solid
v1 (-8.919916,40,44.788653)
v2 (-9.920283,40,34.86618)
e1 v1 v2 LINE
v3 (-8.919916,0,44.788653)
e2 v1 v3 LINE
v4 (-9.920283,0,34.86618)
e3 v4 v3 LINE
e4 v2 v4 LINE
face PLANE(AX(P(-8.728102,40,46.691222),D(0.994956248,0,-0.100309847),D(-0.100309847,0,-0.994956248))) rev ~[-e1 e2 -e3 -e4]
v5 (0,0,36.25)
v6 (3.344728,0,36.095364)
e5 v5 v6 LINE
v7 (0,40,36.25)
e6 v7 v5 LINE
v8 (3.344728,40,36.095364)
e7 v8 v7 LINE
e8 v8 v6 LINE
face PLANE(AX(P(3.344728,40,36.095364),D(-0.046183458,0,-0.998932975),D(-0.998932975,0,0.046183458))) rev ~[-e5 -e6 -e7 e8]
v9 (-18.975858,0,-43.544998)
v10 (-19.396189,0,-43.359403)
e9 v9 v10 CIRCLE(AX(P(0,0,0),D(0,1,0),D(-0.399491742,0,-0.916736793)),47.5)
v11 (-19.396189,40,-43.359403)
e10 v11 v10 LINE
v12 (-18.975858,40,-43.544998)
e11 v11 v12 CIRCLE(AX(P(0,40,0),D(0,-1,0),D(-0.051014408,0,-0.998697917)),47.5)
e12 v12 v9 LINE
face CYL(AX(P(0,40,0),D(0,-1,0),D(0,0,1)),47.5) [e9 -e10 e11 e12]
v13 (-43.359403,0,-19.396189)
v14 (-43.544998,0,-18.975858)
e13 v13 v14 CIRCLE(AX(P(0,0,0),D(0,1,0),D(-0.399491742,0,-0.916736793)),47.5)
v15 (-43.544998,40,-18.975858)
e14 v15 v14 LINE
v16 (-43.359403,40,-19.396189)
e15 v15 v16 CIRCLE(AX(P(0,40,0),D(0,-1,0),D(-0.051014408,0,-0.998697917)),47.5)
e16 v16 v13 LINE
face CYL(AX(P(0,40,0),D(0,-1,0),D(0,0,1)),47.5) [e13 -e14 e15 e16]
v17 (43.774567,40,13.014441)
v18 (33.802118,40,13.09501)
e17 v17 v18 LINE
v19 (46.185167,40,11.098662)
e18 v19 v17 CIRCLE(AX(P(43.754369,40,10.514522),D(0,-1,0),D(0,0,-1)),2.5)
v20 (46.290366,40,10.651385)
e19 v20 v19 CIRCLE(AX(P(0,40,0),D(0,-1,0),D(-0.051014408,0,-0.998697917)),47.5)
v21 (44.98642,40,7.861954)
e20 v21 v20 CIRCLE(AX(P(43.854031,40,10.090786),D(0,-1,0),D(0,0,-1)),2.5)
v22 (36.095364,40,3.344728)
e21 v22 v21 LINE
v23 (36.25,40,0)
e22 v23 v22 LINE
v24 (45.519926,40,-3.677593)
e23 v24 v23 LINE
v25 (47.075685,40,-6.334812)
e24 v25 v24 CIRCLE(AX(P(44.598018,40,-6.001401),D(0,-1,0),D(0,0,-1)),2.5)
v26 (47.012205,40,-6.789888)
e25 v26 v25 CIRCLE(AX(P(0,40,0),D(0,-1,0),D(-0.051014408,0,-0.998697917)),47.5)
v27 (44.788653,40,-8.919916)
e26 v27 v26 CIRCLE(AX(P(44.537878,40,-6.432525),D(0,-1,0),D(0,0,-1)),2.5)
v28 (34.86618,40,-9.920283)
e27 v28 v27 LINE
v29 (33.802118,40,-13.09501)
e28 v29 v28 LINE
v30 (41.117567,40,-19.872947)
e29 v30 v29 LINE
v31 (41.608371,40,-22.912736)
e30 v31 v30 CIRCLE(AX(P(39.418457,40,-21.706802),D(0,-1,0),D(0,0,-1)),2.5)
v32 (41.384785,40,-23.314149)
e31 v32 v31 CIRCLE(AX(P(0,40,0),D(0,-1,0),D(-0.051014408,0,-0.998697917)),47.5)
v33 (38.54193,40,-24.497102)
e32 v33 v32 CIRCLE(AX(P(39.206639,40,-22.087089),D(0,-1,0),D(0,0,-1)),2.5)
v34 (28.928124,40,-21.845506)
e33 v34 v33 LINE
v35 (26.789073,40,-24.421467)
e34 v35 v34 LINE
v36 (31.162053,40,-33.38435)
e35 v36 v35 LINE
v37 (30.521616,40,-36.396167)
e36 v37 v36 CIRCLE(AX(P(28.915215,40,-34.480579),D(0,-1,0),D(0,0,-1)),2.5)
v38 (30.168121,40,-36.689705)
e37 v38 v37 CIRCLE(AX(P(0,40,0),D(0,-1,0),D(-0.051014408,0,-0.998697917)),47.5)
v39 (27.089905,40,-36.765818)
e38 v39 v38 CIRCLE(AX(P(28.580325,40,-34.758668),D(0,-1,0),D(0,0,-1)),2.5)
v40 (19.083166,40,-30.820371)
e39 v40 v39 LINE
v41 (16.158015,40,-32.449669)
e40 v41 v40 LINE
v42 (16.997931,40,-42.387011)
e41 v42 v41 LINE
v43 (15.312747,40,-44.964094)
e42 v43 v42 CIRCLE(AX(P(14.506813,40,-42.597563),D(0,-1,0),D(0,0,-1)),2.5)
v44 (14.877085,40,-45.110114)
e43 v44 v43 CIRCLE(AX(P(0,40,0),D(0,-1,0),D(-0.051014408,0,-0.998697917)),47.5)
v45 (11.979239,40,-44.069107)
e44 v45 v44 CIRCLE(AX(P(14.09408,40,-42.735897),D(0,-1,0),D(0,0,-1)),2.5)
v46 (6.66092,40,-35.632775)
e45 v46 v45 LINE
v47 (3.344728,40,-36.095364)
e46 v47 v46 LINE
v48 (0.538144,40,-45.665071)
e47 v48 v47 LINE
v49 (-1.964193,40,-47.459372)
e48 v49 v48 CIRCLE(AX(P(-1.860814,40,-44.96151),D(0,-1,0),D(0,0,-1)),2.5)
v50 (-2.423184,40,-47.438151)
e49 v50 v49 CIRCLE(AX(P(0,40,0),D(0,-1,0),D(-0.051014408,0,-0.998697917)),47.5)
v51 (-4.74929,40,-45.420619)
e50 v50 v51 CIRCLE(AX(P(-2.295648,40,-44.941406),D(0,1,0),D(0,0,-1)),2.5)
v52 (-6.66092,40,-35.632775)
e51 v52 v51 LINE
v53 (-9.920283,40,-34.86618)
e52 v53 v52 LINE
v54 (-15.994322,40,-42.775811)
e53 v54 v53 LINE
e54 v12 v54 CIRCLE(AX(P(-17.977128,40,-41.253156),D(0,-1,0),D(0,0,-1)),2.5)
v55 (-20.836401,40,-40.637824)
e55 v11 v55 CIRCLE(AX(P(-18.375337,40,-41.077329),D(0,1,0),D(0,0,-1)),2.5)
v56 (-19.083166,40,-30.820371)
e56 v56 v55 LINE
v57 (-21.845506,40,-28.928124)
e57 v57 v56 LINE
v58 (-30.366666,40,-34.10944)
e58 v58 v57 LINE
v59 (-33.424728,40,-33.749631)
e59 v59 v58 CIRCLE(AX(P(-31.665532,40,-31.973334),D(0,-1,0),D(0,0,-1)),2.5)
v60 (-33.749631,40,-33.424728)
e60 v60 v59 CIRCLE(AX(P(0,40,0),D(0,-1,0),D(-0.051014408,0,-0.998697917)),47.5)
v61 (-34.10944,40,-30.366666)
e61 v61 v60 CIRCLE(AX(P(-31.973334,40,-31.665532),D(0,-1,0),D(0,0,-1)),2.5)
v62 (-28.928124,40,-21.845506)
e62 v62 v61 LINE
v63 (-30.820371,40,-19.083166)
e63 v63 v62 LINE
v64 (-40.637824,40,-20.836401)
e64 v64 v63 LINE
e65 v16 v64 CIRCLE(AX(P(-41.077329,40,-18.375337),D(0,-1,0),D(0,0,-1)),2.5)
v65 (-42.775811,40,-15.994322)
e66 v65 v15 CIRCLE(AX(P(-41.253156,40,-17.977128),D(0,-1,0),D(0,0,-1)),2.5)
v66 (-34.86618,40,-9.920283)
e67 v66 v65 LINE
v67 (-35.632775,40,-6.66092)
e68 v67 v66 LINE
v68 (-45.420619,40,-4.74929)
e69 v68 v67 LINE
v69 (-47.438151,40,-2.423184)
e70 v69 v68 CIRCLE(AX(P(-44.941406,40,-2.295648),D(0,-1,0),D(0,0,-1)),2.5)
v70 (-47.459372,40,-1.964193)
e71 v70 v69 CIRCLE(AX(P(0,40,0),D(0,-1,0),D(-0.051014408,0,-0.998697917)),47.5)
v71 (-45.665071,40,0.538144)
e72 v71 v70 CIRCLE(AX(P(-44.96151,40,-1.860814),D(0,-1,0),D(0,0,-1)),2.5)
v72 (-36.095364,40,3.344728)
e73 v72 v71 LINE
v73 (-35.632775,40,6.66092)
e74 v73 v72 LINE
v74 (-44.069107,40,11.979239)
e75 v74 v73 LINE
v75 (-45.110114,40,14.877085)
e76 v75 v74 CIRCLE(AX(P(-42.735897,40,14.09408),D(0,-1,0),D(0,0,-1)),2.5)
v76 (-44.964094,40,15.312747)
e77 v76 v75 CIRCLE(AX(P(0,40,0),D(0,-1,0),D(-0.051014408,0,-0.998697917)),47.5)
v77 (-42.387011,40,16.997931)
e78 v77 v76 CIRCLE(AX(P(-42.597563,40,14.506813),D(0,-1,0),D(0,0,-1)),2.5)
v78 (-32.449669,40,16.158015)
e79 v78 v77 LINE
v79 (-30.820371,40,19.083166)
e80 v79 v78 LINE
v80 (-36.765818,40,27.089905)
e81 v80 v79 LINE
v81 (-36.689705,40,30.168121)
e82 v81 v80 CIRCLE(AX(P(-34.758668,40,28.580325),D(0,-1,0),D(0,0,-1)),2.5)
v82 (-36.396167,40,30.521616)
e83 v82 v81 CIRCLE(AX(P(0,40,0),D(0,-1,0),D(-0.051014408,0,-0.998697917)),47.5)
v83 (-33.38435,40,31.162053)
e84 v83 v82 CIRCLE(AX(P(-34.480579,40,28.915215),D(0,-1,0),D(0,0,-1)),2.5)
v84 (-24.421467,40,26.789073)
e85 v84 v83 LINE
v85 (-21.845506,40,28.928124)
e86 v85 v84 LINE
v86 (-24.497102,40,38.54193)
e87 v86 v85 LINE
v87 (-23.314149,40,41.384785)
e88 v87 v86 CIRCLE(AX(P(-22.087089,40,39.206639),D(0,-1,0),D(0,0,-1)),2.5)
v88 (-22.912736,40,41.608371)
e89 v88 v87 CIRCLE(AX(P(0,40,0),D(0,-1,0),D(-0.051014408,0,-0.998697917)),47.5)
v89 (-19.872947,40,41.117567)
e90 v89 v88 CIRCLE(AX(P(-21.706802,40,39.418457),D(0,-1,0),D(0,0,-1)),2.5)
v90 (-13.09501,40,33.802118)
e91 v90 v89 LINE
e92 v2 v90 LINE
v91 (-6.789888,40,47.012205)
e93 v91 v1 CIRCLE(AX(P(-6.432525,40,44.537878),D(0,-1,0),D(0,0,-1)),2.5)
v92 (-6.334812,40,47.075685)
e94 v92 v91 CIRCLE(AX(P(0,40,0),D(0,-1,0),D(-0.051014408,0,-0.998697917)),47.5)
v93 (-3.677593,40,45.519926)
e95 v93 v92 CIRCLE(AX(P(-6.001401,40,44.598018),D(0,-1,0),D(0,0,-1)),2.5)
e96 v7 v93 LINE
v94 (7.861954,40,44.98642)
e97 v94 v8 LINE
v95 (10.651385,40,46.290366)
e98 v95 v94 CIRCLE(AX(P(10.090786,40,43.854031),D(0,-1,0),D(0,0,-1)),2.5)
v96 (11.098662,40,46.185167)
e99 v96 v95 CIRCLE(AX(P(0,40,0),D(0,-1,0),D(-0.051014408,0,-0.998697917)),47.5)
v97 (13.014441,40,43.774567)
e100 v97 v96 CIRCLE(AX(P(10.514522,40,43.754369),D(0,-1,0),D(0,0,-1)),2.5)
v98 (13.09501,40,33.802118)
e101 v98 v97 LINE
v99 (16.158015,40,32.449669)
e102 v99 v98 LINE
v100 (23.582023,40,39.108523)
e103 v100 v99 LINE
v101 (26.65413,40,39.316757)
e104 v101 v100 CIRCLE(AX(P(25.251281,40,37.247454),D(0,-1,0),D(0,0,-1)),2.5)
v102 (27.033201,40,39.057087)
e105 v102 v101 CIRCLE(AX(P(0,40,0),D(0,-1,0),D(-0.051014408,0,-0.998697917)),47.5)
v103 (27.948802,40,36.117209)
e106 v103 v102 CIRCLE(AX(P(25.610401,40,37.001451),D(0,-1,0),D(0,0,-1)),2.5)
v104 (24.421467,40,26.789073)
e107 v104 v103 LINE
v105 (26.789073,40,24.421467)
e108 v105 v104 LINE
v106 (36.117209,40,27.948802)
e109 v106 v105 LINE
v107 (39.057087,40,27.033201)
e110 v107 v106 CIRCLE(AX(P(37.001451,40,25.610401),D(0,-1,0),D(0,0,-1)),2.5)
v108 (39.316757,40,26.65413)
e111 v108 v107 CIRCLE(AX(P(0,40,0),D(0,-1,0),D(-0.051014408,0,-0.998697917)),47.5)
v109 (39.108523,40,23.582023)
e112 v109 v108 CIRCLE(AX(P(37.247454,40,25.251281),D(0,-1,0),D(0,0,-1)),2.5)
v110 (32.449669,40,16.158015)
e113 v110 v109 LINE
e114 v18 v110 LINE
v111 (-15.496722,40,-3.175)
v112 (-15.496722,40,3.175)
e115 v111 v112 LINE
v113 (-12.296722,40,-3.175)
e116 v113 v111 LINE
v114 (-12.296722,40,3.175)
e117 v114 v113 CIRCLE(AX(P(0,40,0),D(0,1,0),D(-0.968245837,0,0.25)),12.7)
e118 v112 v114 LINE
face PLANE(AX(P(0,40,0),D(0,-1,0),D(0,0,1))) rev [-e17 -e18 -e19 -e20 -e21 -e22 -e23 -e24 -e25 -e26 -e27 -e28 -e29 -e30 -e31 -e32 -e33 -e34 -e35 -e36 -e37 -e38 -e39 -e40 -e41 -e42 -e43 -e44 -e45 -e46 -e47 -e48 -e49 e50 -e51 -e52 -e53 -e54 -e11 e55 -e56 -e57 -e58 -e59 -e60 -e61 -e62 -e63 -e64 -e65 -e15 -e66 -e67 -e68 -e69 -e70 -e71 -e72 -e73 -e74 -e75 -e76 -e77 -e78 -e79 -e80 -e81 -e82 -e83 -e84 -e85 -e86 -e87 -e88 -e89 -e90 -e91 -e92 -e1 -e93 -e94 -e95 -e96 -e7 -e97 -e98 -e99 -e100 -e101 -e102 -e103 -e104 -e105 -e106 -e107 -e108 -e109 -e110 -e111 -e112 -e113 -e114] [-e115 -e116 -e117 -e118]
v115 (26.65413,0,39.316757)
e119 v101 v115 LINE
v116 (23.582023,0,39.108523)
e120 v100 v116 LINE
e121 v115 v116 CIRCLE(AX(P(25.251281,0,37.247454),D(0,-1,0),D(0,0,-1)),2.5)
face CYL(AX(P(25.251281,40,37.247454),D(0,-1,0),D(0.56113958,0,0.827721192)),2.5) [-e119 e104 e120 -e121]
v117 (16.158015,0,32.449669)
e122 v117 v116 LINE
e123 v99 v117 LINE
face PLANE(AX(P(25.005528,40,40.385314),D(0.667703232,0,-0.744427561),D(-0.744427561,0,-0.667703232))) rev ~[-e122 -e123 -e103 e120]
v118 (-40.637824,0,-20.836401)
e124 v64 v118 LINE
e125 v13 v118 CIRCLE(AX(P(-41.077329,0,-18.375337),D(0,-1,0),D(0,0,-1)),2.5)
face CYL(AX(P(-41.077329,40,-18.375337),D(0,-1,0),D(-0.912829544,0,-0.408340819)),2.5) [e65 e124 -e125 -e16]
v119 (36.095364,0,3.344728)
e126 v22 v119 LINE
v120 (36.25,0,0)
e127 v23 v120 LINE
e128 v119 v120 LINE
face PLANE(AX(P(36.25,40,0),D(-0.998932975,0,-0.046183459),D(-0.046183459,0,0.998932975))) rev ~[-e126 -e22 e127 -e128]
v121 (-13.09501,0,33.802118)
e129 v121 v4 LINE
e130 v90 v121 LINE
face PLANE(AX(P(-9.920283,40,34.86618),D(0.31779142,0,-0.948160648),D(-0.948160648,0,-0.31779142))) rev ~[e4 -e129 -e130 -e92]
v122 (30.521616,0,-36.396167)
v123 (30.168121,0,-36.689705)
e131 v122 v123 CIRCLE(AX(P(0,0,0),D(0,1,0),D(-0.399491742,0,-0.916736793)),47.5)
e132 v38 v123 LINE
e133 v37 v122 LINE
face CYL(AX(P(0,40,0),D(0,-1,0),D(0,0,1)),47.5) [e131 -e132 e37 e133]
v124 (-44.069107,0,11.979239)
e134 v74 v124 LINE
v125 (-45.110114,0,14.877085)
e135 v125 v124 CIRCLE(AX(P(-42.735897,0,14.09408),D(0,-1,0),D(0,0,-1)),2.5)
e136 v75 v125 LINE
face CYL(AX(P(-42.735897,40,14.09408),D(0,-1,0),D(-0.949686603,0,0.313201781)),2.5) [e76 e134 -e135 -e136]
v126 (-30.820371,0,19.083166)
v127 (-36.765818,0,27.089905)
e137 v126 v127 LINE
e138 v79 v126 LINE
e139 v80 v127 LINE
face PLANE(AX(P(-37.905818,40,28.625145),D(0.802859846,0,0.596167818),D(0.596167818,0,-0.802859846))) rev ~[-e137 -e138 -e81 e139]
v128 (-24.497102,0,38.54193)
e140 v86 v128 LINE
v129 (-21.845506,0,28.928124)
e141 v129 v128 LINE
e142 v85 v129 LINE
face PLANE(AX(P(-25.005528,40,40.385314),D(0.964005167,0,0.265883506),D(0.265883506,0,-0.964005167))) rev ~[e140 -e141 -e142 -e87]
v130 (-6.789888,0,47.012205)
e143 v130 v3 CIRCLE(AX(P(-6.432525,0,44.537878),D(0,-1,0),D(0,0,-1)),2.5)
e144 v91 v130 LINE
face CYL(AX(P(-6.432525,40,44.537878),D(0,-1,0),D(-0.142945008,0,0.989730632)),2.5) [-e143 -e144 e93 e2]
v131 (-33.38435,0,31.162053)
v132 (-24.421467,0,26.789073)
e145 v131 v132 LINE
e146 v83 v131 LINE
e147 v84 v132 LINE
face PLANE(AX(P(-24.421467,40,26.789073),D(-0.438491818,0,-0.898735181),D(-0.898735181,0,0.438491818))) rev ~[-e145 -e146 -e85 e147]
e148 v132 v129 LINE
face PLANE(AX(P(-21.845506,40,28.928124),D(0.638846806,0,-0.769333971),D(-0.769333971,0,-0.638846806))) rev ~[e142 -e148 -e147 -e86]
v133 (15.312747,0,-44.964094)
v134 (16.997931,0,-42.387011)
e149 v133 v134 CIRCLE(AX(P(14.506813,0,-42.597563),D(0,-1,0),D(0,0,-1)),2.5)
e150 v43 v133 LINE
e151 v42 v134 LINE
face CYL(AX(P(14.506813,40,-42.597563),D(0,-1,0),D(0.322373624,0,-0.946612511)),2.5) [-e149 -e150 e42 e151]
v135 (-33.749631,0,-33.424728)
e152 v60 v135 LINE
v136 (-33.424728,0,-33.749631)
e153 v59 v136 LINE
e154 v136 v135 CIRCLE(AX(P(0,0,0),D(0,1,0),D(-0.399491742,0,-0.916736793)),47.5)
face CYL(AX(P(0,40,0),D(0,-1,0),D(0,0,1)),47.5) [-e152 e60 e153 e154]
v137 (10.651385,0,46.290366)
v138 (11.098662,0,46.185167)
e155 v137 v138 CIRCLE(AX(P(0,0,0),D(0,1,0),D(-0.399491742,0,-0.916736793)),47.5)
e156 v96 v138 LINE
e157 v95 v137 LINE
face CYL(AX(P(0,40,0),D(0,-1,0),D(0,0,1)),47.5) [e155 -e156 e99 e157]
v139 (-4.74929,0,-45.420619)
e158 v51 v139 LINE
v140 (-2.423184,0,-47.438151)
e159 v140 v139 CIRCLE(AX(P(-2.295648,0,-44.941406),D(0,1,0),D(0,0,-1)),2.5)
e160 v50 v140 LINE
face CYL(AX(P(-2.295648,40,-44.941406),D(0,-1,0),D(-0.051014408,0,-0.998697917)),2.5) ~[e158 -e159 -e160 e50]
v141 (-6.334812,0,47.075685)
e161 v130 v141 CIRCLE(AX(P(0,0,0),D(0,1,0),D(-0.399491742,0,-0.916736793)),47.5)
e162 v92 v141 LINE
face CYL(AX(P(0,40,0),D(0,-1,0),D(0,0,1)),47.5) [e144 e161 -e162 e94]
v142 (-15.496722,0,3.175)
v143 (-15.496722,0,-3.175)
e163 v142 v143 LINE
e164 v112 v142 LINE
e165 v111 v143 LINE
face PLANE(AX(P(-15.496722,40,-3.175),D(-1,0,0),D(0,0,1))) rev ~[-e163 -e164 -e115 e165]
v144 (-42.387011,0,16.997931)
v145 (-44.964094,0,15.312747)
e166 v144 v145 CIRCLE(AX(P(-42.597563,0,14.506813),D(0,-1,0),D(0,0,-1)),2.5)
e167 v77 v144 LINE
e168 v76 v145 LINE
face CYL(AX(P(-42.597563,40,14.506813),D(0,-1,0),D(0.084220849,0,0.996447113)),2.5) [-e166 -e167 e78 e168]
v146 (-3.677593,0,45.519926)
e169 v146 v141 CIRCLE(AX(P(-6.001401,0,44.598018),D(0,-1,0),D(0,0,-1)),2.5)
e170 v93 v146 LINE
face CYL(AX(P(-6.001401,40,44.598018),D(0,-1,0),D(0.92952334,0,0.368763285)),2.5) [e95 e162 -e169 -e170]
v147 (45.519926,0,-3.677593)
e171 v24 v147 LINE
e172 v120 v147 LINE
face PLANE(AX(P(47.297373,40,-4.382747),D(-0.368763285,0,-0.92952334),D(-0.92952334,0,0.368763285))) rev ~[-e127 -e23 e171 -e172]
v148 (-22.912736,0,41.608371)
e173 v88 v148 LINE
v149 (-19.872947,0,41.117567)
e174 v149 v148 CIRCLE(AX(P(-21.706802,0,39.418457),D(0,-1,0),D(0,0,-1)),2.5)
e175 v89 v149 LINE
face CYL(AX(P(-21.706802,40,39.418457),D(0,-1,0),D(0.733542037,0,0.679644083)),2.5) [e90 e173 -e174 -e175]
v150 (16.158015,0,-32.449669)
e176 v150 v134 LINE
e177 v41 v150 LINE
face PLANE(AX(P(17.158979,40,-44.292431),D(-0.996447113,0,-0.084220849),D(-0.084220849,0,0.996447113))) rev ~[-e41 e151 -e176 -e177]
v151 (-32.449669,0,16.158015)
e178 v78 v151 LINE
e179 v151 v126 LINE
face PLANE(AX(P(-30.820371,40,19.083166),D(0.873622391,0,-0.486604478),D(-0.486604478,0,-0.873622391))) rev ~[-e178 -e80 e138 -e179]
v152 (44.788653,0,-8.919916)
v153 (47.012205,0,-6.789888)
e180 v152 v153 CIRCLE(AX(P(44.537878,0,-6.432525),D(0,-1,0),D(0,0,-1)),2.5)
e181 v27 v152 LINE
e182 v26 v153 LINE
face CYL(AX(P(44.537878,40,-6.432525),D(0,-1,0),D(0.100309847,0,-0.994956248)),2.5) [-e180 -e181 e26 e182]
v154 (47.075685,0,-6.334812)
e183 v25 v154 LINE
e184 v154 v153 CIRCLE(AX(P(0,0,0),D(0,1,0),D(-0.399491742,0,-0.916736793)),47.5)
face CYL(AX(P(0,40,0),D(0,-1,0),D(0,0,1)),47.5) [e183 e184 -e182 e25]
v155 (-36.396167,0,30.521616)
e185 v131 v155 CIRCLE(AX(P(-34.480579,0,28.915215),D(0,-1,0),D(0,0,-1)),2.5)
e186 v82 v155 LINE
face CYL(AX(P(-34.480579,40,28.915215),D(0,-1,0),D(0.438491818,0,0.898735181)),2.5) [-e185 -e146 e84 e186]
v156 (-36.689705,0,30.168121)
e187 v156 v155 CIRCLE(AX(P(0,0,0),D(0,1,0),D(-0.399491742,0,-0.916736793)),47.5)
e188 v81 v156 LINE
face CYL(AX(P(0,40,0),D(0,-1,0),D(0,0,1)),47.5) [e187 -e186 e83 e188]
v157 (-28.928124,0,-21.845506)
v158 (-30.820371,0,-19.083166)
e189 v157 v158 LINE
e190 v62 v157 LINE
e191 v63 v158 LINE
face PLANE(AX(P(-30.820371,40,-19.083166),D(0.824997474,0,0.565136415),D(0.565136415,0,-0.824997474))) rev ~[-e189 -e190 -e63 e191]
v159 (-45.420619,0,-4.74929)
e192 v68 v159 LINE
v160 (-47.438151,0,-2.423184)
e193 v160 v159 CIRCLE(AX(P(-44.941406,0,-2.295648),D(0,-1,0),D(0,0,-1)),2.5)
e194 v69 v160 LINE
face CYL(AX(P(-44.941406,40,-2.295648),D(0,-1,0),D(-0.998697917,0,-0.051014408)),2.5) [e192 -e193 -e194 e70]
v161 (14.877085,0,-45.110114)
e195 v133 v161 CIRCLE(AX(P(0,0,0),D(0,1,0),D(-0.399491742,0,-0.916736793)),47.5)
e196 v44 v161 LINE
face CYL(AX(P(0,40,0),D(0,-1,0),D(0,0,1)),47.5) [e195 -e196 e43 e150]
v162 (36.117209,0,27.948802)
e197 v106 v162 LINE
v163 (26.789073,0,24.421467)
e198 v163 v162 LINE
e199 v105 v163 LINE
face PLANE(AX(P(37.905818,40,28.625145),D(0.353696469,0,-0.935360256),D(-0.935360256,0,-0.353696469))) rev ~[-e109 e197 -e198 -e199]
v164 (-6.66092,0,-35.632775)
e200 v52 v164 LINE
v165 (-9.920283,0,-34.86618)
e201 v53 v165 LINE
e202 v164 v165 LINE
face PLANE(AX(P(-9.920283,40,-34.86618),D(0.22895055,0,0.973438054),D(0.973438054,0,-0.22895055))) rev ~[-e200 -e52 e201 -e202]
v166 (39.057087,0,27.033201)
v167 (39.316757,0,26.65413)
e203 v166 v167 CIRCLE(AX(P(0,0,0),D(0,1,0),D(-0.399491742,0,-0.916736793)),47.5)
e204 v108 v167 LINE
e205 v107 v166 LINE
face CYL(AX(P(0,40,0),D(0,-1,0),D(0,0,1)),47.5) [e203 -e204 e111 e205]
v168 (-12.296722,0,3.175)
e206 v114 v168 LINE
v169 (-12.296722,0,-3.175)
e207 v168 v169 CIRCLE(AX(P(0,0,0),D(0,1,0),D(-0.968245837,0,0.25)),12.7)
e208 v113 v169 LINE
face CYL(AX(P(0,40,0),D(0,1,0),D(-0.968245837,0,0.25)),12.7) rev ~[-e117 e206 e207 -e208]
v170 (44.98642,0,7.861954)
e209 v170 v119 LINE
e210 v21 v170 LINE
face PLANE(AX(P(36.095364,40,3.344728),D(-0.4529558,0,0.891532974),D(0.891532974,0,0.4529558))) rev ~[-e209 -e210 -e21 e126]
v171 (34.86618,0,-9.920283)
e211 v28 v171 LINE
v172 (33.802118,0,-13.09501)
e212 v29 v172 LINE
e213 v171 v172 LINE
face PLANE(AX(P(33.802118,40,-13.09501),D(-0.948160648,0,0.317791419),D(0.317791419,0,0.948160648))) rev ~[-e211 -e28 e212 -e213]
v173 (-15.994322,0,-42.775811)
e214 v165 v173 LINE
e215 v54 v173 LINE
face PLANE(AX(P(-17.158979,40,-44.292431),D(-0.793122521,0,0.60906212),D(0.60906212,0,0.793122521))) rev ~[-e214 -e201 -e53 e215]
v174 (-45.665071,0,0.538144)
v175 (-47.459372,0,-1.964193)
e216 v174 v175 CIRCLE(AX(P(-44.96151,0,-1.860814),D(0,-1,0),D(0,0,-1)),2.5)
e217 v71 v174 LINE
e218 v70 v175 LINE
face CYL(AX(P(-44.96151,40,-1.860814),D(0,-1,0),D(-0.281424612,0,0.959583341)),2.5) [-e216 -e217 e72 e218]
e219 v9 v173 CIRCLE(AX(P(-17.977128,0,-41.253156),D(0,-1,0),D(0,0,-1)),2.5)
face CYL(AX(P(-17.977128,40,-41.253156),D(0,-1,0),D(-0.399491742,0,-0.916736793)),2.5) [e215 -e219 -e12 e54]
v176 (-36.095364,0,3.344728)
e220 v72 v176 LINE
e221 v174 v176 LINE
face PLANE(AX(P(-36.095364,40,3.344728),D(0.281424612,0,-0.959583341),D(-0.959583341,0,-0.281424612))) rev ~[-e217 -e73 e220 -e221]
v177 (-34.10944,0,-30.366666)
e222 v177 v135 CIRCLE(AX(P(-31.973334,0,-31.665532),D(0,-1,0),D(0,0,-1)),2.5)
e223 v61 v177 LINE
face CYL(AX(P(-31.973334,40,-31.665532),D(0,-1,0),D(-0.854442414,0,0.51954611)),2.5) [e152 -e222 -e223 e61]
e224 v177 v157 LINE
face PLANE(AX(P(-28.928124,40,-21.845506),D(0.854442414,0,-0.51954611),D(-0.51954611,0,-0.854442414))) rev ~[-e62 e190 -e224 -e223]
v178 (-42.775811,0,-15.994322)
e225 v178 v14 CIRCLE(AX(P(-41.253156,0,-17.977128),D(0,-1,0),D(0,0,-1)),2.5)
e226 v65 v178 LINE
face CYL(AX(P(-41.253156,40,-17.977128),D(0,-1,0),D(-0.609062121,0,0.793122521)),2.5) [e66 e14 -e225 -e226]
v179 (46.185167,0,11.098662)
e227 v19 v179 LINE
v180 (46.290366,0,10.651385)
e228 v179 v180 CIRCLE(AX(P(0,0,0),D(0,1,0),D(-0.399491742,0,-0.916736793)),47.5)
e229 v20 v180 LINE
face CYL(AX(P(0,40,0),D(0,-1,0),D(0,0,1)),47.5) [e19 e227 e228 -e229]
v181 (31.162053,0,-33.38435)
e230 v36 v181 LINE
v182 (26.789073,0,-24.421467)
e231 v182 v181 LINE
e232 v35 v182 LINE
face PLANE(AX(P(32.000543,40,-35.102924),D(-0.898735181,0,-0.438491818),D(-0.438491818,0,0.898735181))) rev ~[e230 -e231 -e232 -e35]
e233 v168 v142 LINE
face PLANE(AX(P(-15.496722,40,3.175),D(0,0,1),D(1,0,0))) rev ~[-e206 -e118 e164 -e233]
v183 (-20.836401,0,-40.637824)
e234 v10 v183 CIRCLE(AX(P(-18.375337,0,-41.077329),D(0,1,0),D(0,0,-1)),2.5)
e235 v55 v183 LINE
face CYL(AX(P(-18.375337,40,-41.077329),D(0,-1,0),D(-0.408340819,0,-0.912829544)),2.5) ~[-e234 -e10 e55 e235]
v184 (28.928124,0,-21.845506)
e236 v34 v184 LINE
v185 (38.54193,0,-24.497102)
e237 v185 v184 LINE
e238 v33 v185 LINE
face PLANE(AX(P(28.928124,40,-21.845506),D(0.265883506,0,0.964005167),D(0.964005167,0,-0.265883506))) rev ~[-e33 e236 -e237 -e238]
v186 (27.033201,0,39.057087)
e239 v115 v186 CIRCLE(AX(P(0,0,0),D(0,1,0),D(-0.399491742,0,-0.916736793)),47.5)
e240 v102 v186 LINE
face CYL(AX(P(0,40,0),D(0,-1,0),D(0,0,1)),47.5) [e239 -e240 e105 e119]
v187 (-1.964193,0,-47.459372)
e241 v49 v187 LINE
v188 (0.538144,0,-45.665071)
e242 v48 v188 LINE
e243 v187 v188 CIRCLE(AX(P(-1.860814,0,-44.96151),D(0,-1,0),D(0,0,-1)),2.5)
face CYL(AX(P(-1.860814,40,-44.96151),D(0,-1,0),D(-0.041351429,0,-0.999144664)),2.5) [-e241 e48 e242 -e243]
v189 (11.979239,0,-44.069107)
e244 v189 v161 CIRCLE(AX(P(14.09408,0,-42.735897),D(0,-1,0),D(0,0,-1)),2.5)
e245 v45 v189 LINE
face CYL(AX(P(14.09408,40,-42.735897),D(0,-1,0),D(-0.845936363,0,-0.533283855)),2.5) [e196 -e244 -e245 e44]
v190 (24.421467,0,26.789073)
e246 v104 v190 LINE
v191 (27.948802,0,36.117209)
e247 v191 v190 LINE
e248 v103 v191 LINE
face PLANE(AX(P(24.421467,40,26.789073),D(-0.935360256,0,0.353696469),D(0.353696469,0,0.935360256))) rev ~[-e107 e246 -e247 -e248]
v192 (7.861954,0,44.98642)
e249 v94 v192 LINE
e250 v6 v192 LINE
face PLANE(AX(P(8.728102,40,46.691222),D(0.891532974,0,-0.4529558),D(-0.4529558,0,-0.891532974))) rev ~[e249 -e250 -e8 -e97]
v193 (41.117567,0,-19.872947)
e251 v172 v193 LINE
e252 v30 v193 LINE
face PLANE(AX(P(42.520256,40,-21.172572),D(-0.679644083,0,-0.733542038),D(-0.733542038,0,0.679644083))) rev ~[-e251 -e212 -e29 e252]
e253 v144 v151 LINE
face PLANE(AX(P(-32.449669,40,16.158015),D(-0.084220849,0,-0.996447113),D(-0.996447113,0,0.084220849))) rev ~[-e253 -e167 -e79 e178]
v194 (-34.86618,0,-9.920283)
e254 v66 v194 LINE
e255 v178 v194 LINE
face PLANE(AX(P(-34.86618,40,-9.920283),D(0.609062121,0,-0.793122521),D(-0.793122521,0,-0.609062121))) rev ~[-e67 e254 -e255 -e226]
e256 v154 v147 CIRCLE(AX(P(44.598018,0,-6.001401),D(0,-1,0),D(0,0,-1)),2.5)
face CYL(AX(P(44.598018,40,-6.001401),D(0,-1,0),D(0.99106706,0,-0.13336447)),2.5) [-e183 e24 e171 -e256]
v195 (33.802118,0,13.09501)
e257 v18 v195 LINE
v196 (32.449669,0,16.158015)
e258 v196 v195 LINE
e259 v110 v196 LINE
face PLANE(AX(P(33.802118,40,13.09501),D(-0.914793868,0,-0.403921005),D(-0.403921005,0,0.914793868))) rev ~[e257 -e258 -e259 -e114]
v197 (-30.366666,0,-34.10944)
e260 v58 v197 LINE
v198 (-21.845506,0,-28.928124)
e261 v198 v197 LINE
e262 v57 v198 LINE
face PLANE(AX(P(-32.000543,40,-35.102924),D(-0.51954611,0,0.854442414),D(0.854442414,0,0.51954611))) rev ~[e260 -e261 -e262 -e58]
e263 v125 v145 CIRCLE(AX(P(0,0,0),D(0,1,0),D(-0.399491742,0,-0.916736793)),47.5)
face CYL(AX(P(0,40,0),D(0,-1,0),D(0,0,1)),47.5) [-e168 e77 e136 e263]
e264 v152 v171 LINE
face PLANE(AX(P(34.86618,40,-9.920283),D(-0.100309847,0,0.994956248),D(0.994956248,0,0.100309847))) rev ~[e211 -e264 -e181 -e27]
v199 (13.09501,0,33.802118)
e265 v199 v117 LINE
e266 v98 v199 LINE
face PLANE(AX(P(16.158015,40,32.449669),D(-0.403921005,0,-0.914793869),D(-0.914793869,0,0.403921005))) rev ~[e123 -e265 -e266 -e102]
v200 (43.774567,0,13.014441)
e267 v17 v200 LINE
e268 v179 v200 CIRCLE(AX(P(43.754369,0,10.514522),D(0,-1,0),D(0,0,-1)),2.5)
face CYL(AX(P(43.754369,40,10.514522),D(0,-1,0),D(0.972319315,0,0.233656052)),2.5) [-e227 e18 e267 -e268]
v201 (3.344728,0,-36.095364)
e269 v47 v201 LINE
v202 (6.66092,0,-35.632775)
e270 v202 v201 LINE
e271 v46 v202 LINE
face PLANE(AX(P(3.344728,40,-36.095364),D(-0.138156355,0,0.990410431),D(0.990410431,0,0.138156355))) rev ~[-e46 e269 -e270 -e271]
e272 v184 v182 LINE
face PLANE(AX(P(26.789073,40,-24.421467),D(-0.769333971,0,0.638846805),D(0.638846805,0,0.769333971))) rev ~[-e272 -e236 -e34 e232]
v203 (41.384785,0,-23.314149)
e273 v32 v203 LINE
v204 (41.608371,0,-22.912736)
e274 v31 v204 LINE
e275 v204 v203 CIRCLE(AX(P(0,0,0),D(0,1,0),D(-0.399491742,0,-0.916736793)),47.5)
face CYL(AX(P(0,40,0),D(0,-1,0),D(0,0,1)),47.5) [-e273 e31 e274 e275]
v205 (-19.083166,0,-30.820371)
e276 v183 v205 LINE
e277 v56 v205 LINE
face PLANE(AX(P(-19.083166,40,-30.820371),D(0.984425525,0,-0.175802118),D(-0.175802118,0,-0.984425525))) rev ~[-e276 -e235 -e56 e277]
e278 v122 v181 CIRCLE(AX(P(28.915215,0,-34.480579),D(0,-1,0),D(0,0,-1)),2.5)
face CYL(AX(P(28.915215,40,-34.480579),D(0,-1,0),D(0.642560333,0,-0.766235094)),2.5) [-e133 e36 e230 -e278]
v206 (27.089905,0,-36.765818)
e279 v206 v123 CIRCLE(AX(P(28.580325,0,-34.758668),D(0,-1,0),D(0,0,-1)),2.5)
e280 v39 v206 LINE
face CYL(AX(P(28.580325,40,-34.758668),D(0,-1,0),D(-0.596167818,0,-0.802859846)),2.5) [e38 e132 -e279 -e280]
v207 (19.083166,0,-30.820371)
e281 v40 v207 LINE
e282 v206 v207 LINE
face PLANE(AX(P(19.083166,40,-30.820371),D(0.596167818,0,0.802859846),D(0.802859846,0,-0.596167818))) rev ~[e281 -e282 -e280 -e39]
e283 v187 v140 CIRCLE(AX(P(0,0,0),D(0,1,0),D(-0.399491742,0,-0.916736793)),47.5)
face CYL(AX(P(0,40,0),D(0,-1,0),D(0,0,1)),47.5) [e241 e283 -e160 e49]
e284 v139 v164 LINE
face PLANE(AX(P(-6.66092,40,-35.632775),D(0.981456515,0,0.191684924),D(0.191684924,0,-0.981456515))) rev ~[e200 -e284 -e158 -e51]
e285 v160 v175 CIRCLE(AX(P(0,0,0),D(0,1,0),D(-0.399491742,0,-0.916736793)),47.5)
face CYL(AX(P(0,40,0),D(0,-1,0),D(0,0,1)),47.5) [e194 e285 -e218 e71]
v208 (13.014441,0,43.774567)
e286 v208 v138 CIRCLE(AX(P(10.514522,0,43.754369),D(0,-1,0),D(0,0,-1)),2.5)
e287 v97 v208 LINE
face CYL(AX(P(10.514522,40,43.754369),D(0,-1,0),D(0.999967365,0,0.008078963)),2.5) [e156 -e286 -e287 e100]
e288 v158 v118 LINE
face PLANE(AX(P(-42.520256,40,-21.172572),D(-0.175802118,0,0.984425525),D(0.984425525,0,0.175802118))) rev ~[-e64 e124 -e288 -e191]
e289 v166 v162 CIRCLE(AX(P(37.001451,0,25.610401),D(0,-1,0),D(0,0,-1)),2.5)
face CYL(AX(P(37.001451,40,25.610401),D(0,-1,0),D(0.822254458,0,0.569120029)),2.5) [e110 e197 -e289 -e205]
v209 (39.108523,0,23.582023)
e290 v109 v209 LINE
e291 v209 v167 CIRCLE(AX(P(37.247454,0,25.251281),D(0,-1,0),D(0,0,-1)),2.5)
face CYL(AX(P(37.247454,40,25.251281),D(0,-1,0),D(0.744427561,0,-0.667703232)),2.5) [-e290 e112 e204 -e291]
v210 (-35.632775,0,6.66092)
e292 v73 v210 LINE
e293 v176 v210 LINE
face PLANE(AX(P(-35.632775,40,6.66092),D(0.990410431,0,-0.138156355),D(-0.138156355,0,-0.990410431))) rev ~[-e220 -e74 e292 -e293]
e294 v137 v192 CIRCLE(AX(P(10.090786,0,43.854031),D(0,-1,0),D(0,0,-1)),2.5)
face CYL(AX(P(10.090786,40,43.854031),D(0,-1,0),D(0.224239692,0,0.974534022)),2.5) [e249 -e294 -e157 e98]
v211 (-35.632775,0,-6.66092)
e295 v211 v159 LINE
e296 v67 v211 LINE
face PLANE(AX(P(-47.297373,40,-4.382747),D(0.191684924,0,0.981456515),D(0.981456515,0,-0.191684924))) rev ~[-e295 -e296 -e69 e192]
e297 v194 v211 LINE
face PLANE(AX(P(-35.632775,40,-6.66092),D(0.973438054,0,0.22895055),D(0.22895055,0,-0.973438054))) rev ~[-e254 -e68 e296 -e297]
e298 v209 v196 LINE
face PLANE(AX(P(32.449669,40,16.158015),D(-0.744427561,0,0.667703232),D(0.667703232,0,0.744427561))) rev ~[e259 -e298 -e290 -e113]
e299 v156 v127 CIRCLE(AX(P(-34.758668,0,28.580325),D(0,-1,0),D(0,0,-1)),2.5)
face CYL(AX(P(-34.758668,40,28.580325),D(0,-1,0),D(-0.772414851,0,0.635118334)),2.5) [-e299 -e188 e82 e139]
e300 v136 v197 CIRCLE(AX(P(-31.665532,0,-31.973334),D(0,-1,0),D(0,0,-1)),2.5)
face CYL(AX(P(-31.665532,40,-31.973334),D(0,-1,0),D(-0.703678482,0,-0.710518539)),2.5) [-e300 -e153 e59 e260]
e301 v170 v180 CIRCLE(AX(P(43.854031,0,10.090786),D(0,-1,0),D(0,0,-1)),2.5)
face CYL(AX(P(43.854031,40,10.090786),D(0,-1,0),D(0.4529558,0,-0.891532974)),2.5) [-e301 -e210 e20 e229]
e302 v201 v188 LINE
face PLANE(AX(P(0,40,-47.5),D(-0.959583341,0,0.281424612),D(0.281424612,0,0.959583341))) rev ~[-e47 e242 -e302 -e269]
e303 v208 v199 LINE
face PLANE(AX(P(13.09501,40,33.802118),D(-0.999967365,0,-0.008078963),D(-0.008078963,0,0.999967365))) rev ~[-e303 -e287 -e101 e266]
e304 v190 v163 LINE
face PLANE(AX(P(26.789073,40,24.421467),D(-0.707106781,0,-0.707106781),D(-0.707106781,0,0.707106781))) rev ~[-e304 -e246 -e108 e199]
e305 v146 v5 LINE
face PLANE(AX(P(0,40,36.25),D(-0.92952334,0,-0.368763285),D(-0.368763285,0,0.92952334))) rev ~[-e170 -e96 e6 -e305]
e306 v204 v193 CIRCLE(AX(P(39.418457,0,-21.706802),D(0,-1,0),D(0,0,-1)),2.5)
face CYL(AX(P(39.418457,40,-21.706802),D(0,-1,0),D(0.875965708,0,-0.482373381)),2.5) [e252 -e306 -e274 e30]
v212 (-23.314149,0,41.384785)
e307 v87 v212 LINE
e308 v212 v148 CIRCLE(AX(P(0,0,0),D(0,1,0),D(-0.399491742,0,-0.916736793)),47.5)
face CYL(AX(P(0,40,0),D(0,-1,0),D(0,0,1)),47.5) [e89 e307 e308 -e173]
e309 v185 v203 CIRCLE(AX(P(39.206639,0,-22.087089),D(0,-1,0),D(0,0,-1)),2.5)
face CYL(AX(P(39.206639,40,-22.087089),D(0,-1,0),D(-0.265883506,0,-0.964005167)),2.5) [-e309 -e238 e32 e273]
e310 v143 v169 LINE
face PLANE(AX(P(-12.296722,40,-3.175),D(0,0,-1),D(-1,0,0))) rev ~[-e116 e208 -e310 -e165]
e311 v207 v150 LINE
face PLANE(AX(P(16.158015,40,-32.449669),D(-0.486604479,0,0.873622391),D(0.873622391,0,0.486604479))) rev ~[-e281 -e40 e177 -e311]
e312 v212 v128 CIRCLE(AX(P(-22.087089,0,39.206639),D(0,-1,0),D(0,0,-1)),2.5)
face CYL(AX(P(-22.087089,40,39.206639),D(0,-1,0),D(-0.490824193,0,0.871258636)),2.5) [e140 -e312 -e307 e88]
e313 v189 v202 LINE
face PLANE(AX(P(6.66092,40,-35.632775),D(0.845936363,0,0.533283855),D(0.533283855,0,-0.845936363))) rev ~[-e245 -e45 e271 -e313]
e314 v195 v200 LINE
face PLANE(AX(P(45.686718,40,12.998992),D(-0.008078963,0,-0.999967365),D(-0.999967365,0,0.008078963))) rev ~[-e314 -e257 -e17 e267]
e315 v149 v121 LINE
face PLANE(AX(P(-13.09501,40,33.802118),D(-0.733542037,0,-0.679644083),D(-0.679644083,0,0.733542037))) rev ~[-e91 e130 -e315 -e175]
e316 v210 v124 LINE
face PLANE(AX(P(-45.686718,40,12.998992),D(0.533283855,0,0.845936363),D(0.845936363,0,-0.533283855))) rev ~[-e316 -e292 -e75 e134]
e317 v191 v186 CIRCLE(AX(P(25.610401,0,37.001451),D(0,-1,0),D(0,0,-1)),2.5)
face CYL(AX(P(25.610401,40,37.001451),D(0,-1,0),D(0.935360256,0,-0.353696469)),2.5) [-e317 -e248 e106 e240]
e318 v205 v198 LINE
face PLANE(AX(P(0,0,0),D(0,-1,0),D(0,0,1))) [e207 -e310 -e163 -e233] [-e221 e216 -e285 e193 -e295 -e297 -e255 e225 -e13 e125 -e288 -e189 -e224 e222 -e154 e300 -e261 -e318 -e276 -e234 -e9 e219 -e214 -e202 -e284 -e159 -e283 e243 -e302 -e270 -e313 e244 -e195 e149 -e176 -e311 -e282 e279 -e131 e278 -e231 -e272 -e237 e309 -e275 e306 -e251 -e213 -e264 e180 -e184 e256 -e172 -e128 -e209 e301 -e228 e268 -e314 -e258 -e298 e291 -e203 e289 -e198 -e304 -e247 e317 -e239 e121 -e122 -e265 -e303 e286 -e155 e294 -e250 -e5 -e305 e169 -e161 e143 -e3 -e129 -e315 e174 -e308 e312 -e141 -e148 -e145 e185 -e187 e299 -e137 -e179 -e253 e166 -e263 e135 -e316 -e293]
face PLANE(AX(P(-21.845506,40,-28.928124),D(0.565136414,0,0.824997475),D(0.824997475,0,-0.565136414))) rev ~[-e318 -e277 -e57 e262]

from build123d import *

# Parameters (mm, degrees)
ENL_V_MAT_EXTRU_3_DEPTH            = 79.182478856
CONG_1_R                           = 2.5
R_P_TITION_CIRCULAIRE1_COUNT       = 17
CONG_1_OF_R_P_TITION_CIRCULAIRE1_R = 2.5
ENL_V_MAT_EXTRU_4_DEPTH            = 79.135714235


with BuildPart() as part:
    # Esquisse1 → Révolution1 (revolve)
    with BuildSketch(Plane.XY, mode=Mode.PRIVATE) as r_volution1_sk:
        Polygon((-47.5, 40), (-47.5, 0), (-40, 0), (0, 0), (0, 40), (-40, 40), align=None)
    revolve(r_volution1_sk.sketch.rotate(Axis((0, 40, 0), (0, -1, 0)), 270), axis=Axis((0, 40, 0), (0, -1, 0)))

    # Esquisse5 → Enlèv. mat.-Extru.3 (cut, through all)
    with BuildSketch(Plane(origin=(0, 40, 0), x_dir=(1, 0, 0), z_dir=(0, 1, 0))):
        with BuildLine():
            ThreePointArc((-4.382747075, 47.297373374), (-10.875151123, 46.238307582), (-17.158979144, 44.292430897))
            Line((-17.158979144, 44.292430897), (-9.920283391, 34.866179565))
            Line((-9.920283391, 34.866179565), (-6.660920021, 35.632774863))
            Line((-6.660920021, 35.632774863), (-4.382747075, 47.297373374))
        make_face()
    enl_v_mat_extru_3 = extrude(amount=-ENL_V_MAT_EXTRU_3_DEPTH, mode=Mode.SUBTRACT)

    # Congé1
    cong_1_edges = [part.edges().sort_by_distance(p)[0] for p in [
        (-17.158979144, 20, -44.292430897),
        (-4.382747075, 20, -47.297373374),
    ]]
    fillet(cong_1_edges, radius=CONG_1_R)

    # Répétition circulaire1: Enlèv. mat.-Extru.3 ×17 about axis
    r_p_tition_circulaire1_axis = Axis((0, 0, 0), (0, 1, 0))
    for i in range(1, R_P_TITION_CIRCULAIRE1_COUNT):
        add(enl_v_mat_extru_3.rotate(r_p_tition_circulaire1_axis, i * 360 / R_P_TITION_CIRCULAIRE1_COUNT), mode=Mode.SUBTRACT)

    # Congé1 of Répétition circulaire1
    cong_1_of_r_p_tition_circulaire1_edges = [part.edges().sort_by_distance(p)[0] for p in [
        (-32.000543073, 20, -35.102923568),
        (-21.1725719, 20, -42.520256339),
        (-42.520256339, 20, -21.172571899),
        (-35.102923568, 20, -32.000543073),
        (-47.297373374, 20, -4.382747075),
        (-44.292430897, 20, -17.158979144),
        (-45.686718051, 20, 12.998992028),
        (-47.5, 20, 0),
        (-37.905818296, 20, 28.625145228),
        (-44.292430897, 20, 17.158979144),
        (-25.005527737, 20, 40.385313947),
        (-35.102923568, 20, 32.000543073),
        (-8.728102096, 20, 46.691222235),
        (-21.172571899, 20, 42.52025634),
        (8.728102096, 20, 46.691222235),
        (-4.382747074, 20, 47.297373374),
        (25.005527737, 20, 40.385313947),
        (12.998992029, 20, 45.686718051),
        (37.905818296, 20, 28.625145228),
        (28.625145228, 20, 37.905818296),
        (45.686718051, 20, 12.998992028),
        (40.385313947, 20, 25.005527736),
        (47.297373374, 20, -4.382747075),
        (46.691222235, 20, 8.728102096),
        (42.520256339, 20, -21.172571899),
        (46.691222235, 20, -8.728102097),
        (32.000543073, 20, -35.102923568),
        (40.385313947, 20, -25.005527737),
        (17.158979144, 20, -44.292430897),
        (28.625145228, 20, -37.905818296),
        (0, 20, -47.5),
        (12.998992028, 20, -45.686718051),
    ]]
    fillet(cong_1_of_r_p_tition_circulaire1_edges, radius=CONG_1_OF_R_P_TITION_CIRCULAIRE1_R)

    # Esquisse6 → Enlèv. mat.-Extru.4 (cut, through all)
    with BuildSketch(Plane(origin=(0, 40, 0), x_dir=(1, 0, 0), z_dir=(0, 1, 0))):
        with BuildLine():
            Line((-12.296722124, 3.175), (-15.496722124, 3.175))
            Line((-15.496722124, 3.175), (-15.496722124, -3.175))
            Line((-15.496722124, -3.175), (-12.296722124, -3.175))
            ThreePointArc((-12.296722124, -3.175), (12.7, 0), (-12.296722124, 3.175))
        make_face()
    extrude(amount=-ENL_V_MAT_EXTRU_4_DEPTH, mode=Mode.SUBTRACT)


solid = part.part
